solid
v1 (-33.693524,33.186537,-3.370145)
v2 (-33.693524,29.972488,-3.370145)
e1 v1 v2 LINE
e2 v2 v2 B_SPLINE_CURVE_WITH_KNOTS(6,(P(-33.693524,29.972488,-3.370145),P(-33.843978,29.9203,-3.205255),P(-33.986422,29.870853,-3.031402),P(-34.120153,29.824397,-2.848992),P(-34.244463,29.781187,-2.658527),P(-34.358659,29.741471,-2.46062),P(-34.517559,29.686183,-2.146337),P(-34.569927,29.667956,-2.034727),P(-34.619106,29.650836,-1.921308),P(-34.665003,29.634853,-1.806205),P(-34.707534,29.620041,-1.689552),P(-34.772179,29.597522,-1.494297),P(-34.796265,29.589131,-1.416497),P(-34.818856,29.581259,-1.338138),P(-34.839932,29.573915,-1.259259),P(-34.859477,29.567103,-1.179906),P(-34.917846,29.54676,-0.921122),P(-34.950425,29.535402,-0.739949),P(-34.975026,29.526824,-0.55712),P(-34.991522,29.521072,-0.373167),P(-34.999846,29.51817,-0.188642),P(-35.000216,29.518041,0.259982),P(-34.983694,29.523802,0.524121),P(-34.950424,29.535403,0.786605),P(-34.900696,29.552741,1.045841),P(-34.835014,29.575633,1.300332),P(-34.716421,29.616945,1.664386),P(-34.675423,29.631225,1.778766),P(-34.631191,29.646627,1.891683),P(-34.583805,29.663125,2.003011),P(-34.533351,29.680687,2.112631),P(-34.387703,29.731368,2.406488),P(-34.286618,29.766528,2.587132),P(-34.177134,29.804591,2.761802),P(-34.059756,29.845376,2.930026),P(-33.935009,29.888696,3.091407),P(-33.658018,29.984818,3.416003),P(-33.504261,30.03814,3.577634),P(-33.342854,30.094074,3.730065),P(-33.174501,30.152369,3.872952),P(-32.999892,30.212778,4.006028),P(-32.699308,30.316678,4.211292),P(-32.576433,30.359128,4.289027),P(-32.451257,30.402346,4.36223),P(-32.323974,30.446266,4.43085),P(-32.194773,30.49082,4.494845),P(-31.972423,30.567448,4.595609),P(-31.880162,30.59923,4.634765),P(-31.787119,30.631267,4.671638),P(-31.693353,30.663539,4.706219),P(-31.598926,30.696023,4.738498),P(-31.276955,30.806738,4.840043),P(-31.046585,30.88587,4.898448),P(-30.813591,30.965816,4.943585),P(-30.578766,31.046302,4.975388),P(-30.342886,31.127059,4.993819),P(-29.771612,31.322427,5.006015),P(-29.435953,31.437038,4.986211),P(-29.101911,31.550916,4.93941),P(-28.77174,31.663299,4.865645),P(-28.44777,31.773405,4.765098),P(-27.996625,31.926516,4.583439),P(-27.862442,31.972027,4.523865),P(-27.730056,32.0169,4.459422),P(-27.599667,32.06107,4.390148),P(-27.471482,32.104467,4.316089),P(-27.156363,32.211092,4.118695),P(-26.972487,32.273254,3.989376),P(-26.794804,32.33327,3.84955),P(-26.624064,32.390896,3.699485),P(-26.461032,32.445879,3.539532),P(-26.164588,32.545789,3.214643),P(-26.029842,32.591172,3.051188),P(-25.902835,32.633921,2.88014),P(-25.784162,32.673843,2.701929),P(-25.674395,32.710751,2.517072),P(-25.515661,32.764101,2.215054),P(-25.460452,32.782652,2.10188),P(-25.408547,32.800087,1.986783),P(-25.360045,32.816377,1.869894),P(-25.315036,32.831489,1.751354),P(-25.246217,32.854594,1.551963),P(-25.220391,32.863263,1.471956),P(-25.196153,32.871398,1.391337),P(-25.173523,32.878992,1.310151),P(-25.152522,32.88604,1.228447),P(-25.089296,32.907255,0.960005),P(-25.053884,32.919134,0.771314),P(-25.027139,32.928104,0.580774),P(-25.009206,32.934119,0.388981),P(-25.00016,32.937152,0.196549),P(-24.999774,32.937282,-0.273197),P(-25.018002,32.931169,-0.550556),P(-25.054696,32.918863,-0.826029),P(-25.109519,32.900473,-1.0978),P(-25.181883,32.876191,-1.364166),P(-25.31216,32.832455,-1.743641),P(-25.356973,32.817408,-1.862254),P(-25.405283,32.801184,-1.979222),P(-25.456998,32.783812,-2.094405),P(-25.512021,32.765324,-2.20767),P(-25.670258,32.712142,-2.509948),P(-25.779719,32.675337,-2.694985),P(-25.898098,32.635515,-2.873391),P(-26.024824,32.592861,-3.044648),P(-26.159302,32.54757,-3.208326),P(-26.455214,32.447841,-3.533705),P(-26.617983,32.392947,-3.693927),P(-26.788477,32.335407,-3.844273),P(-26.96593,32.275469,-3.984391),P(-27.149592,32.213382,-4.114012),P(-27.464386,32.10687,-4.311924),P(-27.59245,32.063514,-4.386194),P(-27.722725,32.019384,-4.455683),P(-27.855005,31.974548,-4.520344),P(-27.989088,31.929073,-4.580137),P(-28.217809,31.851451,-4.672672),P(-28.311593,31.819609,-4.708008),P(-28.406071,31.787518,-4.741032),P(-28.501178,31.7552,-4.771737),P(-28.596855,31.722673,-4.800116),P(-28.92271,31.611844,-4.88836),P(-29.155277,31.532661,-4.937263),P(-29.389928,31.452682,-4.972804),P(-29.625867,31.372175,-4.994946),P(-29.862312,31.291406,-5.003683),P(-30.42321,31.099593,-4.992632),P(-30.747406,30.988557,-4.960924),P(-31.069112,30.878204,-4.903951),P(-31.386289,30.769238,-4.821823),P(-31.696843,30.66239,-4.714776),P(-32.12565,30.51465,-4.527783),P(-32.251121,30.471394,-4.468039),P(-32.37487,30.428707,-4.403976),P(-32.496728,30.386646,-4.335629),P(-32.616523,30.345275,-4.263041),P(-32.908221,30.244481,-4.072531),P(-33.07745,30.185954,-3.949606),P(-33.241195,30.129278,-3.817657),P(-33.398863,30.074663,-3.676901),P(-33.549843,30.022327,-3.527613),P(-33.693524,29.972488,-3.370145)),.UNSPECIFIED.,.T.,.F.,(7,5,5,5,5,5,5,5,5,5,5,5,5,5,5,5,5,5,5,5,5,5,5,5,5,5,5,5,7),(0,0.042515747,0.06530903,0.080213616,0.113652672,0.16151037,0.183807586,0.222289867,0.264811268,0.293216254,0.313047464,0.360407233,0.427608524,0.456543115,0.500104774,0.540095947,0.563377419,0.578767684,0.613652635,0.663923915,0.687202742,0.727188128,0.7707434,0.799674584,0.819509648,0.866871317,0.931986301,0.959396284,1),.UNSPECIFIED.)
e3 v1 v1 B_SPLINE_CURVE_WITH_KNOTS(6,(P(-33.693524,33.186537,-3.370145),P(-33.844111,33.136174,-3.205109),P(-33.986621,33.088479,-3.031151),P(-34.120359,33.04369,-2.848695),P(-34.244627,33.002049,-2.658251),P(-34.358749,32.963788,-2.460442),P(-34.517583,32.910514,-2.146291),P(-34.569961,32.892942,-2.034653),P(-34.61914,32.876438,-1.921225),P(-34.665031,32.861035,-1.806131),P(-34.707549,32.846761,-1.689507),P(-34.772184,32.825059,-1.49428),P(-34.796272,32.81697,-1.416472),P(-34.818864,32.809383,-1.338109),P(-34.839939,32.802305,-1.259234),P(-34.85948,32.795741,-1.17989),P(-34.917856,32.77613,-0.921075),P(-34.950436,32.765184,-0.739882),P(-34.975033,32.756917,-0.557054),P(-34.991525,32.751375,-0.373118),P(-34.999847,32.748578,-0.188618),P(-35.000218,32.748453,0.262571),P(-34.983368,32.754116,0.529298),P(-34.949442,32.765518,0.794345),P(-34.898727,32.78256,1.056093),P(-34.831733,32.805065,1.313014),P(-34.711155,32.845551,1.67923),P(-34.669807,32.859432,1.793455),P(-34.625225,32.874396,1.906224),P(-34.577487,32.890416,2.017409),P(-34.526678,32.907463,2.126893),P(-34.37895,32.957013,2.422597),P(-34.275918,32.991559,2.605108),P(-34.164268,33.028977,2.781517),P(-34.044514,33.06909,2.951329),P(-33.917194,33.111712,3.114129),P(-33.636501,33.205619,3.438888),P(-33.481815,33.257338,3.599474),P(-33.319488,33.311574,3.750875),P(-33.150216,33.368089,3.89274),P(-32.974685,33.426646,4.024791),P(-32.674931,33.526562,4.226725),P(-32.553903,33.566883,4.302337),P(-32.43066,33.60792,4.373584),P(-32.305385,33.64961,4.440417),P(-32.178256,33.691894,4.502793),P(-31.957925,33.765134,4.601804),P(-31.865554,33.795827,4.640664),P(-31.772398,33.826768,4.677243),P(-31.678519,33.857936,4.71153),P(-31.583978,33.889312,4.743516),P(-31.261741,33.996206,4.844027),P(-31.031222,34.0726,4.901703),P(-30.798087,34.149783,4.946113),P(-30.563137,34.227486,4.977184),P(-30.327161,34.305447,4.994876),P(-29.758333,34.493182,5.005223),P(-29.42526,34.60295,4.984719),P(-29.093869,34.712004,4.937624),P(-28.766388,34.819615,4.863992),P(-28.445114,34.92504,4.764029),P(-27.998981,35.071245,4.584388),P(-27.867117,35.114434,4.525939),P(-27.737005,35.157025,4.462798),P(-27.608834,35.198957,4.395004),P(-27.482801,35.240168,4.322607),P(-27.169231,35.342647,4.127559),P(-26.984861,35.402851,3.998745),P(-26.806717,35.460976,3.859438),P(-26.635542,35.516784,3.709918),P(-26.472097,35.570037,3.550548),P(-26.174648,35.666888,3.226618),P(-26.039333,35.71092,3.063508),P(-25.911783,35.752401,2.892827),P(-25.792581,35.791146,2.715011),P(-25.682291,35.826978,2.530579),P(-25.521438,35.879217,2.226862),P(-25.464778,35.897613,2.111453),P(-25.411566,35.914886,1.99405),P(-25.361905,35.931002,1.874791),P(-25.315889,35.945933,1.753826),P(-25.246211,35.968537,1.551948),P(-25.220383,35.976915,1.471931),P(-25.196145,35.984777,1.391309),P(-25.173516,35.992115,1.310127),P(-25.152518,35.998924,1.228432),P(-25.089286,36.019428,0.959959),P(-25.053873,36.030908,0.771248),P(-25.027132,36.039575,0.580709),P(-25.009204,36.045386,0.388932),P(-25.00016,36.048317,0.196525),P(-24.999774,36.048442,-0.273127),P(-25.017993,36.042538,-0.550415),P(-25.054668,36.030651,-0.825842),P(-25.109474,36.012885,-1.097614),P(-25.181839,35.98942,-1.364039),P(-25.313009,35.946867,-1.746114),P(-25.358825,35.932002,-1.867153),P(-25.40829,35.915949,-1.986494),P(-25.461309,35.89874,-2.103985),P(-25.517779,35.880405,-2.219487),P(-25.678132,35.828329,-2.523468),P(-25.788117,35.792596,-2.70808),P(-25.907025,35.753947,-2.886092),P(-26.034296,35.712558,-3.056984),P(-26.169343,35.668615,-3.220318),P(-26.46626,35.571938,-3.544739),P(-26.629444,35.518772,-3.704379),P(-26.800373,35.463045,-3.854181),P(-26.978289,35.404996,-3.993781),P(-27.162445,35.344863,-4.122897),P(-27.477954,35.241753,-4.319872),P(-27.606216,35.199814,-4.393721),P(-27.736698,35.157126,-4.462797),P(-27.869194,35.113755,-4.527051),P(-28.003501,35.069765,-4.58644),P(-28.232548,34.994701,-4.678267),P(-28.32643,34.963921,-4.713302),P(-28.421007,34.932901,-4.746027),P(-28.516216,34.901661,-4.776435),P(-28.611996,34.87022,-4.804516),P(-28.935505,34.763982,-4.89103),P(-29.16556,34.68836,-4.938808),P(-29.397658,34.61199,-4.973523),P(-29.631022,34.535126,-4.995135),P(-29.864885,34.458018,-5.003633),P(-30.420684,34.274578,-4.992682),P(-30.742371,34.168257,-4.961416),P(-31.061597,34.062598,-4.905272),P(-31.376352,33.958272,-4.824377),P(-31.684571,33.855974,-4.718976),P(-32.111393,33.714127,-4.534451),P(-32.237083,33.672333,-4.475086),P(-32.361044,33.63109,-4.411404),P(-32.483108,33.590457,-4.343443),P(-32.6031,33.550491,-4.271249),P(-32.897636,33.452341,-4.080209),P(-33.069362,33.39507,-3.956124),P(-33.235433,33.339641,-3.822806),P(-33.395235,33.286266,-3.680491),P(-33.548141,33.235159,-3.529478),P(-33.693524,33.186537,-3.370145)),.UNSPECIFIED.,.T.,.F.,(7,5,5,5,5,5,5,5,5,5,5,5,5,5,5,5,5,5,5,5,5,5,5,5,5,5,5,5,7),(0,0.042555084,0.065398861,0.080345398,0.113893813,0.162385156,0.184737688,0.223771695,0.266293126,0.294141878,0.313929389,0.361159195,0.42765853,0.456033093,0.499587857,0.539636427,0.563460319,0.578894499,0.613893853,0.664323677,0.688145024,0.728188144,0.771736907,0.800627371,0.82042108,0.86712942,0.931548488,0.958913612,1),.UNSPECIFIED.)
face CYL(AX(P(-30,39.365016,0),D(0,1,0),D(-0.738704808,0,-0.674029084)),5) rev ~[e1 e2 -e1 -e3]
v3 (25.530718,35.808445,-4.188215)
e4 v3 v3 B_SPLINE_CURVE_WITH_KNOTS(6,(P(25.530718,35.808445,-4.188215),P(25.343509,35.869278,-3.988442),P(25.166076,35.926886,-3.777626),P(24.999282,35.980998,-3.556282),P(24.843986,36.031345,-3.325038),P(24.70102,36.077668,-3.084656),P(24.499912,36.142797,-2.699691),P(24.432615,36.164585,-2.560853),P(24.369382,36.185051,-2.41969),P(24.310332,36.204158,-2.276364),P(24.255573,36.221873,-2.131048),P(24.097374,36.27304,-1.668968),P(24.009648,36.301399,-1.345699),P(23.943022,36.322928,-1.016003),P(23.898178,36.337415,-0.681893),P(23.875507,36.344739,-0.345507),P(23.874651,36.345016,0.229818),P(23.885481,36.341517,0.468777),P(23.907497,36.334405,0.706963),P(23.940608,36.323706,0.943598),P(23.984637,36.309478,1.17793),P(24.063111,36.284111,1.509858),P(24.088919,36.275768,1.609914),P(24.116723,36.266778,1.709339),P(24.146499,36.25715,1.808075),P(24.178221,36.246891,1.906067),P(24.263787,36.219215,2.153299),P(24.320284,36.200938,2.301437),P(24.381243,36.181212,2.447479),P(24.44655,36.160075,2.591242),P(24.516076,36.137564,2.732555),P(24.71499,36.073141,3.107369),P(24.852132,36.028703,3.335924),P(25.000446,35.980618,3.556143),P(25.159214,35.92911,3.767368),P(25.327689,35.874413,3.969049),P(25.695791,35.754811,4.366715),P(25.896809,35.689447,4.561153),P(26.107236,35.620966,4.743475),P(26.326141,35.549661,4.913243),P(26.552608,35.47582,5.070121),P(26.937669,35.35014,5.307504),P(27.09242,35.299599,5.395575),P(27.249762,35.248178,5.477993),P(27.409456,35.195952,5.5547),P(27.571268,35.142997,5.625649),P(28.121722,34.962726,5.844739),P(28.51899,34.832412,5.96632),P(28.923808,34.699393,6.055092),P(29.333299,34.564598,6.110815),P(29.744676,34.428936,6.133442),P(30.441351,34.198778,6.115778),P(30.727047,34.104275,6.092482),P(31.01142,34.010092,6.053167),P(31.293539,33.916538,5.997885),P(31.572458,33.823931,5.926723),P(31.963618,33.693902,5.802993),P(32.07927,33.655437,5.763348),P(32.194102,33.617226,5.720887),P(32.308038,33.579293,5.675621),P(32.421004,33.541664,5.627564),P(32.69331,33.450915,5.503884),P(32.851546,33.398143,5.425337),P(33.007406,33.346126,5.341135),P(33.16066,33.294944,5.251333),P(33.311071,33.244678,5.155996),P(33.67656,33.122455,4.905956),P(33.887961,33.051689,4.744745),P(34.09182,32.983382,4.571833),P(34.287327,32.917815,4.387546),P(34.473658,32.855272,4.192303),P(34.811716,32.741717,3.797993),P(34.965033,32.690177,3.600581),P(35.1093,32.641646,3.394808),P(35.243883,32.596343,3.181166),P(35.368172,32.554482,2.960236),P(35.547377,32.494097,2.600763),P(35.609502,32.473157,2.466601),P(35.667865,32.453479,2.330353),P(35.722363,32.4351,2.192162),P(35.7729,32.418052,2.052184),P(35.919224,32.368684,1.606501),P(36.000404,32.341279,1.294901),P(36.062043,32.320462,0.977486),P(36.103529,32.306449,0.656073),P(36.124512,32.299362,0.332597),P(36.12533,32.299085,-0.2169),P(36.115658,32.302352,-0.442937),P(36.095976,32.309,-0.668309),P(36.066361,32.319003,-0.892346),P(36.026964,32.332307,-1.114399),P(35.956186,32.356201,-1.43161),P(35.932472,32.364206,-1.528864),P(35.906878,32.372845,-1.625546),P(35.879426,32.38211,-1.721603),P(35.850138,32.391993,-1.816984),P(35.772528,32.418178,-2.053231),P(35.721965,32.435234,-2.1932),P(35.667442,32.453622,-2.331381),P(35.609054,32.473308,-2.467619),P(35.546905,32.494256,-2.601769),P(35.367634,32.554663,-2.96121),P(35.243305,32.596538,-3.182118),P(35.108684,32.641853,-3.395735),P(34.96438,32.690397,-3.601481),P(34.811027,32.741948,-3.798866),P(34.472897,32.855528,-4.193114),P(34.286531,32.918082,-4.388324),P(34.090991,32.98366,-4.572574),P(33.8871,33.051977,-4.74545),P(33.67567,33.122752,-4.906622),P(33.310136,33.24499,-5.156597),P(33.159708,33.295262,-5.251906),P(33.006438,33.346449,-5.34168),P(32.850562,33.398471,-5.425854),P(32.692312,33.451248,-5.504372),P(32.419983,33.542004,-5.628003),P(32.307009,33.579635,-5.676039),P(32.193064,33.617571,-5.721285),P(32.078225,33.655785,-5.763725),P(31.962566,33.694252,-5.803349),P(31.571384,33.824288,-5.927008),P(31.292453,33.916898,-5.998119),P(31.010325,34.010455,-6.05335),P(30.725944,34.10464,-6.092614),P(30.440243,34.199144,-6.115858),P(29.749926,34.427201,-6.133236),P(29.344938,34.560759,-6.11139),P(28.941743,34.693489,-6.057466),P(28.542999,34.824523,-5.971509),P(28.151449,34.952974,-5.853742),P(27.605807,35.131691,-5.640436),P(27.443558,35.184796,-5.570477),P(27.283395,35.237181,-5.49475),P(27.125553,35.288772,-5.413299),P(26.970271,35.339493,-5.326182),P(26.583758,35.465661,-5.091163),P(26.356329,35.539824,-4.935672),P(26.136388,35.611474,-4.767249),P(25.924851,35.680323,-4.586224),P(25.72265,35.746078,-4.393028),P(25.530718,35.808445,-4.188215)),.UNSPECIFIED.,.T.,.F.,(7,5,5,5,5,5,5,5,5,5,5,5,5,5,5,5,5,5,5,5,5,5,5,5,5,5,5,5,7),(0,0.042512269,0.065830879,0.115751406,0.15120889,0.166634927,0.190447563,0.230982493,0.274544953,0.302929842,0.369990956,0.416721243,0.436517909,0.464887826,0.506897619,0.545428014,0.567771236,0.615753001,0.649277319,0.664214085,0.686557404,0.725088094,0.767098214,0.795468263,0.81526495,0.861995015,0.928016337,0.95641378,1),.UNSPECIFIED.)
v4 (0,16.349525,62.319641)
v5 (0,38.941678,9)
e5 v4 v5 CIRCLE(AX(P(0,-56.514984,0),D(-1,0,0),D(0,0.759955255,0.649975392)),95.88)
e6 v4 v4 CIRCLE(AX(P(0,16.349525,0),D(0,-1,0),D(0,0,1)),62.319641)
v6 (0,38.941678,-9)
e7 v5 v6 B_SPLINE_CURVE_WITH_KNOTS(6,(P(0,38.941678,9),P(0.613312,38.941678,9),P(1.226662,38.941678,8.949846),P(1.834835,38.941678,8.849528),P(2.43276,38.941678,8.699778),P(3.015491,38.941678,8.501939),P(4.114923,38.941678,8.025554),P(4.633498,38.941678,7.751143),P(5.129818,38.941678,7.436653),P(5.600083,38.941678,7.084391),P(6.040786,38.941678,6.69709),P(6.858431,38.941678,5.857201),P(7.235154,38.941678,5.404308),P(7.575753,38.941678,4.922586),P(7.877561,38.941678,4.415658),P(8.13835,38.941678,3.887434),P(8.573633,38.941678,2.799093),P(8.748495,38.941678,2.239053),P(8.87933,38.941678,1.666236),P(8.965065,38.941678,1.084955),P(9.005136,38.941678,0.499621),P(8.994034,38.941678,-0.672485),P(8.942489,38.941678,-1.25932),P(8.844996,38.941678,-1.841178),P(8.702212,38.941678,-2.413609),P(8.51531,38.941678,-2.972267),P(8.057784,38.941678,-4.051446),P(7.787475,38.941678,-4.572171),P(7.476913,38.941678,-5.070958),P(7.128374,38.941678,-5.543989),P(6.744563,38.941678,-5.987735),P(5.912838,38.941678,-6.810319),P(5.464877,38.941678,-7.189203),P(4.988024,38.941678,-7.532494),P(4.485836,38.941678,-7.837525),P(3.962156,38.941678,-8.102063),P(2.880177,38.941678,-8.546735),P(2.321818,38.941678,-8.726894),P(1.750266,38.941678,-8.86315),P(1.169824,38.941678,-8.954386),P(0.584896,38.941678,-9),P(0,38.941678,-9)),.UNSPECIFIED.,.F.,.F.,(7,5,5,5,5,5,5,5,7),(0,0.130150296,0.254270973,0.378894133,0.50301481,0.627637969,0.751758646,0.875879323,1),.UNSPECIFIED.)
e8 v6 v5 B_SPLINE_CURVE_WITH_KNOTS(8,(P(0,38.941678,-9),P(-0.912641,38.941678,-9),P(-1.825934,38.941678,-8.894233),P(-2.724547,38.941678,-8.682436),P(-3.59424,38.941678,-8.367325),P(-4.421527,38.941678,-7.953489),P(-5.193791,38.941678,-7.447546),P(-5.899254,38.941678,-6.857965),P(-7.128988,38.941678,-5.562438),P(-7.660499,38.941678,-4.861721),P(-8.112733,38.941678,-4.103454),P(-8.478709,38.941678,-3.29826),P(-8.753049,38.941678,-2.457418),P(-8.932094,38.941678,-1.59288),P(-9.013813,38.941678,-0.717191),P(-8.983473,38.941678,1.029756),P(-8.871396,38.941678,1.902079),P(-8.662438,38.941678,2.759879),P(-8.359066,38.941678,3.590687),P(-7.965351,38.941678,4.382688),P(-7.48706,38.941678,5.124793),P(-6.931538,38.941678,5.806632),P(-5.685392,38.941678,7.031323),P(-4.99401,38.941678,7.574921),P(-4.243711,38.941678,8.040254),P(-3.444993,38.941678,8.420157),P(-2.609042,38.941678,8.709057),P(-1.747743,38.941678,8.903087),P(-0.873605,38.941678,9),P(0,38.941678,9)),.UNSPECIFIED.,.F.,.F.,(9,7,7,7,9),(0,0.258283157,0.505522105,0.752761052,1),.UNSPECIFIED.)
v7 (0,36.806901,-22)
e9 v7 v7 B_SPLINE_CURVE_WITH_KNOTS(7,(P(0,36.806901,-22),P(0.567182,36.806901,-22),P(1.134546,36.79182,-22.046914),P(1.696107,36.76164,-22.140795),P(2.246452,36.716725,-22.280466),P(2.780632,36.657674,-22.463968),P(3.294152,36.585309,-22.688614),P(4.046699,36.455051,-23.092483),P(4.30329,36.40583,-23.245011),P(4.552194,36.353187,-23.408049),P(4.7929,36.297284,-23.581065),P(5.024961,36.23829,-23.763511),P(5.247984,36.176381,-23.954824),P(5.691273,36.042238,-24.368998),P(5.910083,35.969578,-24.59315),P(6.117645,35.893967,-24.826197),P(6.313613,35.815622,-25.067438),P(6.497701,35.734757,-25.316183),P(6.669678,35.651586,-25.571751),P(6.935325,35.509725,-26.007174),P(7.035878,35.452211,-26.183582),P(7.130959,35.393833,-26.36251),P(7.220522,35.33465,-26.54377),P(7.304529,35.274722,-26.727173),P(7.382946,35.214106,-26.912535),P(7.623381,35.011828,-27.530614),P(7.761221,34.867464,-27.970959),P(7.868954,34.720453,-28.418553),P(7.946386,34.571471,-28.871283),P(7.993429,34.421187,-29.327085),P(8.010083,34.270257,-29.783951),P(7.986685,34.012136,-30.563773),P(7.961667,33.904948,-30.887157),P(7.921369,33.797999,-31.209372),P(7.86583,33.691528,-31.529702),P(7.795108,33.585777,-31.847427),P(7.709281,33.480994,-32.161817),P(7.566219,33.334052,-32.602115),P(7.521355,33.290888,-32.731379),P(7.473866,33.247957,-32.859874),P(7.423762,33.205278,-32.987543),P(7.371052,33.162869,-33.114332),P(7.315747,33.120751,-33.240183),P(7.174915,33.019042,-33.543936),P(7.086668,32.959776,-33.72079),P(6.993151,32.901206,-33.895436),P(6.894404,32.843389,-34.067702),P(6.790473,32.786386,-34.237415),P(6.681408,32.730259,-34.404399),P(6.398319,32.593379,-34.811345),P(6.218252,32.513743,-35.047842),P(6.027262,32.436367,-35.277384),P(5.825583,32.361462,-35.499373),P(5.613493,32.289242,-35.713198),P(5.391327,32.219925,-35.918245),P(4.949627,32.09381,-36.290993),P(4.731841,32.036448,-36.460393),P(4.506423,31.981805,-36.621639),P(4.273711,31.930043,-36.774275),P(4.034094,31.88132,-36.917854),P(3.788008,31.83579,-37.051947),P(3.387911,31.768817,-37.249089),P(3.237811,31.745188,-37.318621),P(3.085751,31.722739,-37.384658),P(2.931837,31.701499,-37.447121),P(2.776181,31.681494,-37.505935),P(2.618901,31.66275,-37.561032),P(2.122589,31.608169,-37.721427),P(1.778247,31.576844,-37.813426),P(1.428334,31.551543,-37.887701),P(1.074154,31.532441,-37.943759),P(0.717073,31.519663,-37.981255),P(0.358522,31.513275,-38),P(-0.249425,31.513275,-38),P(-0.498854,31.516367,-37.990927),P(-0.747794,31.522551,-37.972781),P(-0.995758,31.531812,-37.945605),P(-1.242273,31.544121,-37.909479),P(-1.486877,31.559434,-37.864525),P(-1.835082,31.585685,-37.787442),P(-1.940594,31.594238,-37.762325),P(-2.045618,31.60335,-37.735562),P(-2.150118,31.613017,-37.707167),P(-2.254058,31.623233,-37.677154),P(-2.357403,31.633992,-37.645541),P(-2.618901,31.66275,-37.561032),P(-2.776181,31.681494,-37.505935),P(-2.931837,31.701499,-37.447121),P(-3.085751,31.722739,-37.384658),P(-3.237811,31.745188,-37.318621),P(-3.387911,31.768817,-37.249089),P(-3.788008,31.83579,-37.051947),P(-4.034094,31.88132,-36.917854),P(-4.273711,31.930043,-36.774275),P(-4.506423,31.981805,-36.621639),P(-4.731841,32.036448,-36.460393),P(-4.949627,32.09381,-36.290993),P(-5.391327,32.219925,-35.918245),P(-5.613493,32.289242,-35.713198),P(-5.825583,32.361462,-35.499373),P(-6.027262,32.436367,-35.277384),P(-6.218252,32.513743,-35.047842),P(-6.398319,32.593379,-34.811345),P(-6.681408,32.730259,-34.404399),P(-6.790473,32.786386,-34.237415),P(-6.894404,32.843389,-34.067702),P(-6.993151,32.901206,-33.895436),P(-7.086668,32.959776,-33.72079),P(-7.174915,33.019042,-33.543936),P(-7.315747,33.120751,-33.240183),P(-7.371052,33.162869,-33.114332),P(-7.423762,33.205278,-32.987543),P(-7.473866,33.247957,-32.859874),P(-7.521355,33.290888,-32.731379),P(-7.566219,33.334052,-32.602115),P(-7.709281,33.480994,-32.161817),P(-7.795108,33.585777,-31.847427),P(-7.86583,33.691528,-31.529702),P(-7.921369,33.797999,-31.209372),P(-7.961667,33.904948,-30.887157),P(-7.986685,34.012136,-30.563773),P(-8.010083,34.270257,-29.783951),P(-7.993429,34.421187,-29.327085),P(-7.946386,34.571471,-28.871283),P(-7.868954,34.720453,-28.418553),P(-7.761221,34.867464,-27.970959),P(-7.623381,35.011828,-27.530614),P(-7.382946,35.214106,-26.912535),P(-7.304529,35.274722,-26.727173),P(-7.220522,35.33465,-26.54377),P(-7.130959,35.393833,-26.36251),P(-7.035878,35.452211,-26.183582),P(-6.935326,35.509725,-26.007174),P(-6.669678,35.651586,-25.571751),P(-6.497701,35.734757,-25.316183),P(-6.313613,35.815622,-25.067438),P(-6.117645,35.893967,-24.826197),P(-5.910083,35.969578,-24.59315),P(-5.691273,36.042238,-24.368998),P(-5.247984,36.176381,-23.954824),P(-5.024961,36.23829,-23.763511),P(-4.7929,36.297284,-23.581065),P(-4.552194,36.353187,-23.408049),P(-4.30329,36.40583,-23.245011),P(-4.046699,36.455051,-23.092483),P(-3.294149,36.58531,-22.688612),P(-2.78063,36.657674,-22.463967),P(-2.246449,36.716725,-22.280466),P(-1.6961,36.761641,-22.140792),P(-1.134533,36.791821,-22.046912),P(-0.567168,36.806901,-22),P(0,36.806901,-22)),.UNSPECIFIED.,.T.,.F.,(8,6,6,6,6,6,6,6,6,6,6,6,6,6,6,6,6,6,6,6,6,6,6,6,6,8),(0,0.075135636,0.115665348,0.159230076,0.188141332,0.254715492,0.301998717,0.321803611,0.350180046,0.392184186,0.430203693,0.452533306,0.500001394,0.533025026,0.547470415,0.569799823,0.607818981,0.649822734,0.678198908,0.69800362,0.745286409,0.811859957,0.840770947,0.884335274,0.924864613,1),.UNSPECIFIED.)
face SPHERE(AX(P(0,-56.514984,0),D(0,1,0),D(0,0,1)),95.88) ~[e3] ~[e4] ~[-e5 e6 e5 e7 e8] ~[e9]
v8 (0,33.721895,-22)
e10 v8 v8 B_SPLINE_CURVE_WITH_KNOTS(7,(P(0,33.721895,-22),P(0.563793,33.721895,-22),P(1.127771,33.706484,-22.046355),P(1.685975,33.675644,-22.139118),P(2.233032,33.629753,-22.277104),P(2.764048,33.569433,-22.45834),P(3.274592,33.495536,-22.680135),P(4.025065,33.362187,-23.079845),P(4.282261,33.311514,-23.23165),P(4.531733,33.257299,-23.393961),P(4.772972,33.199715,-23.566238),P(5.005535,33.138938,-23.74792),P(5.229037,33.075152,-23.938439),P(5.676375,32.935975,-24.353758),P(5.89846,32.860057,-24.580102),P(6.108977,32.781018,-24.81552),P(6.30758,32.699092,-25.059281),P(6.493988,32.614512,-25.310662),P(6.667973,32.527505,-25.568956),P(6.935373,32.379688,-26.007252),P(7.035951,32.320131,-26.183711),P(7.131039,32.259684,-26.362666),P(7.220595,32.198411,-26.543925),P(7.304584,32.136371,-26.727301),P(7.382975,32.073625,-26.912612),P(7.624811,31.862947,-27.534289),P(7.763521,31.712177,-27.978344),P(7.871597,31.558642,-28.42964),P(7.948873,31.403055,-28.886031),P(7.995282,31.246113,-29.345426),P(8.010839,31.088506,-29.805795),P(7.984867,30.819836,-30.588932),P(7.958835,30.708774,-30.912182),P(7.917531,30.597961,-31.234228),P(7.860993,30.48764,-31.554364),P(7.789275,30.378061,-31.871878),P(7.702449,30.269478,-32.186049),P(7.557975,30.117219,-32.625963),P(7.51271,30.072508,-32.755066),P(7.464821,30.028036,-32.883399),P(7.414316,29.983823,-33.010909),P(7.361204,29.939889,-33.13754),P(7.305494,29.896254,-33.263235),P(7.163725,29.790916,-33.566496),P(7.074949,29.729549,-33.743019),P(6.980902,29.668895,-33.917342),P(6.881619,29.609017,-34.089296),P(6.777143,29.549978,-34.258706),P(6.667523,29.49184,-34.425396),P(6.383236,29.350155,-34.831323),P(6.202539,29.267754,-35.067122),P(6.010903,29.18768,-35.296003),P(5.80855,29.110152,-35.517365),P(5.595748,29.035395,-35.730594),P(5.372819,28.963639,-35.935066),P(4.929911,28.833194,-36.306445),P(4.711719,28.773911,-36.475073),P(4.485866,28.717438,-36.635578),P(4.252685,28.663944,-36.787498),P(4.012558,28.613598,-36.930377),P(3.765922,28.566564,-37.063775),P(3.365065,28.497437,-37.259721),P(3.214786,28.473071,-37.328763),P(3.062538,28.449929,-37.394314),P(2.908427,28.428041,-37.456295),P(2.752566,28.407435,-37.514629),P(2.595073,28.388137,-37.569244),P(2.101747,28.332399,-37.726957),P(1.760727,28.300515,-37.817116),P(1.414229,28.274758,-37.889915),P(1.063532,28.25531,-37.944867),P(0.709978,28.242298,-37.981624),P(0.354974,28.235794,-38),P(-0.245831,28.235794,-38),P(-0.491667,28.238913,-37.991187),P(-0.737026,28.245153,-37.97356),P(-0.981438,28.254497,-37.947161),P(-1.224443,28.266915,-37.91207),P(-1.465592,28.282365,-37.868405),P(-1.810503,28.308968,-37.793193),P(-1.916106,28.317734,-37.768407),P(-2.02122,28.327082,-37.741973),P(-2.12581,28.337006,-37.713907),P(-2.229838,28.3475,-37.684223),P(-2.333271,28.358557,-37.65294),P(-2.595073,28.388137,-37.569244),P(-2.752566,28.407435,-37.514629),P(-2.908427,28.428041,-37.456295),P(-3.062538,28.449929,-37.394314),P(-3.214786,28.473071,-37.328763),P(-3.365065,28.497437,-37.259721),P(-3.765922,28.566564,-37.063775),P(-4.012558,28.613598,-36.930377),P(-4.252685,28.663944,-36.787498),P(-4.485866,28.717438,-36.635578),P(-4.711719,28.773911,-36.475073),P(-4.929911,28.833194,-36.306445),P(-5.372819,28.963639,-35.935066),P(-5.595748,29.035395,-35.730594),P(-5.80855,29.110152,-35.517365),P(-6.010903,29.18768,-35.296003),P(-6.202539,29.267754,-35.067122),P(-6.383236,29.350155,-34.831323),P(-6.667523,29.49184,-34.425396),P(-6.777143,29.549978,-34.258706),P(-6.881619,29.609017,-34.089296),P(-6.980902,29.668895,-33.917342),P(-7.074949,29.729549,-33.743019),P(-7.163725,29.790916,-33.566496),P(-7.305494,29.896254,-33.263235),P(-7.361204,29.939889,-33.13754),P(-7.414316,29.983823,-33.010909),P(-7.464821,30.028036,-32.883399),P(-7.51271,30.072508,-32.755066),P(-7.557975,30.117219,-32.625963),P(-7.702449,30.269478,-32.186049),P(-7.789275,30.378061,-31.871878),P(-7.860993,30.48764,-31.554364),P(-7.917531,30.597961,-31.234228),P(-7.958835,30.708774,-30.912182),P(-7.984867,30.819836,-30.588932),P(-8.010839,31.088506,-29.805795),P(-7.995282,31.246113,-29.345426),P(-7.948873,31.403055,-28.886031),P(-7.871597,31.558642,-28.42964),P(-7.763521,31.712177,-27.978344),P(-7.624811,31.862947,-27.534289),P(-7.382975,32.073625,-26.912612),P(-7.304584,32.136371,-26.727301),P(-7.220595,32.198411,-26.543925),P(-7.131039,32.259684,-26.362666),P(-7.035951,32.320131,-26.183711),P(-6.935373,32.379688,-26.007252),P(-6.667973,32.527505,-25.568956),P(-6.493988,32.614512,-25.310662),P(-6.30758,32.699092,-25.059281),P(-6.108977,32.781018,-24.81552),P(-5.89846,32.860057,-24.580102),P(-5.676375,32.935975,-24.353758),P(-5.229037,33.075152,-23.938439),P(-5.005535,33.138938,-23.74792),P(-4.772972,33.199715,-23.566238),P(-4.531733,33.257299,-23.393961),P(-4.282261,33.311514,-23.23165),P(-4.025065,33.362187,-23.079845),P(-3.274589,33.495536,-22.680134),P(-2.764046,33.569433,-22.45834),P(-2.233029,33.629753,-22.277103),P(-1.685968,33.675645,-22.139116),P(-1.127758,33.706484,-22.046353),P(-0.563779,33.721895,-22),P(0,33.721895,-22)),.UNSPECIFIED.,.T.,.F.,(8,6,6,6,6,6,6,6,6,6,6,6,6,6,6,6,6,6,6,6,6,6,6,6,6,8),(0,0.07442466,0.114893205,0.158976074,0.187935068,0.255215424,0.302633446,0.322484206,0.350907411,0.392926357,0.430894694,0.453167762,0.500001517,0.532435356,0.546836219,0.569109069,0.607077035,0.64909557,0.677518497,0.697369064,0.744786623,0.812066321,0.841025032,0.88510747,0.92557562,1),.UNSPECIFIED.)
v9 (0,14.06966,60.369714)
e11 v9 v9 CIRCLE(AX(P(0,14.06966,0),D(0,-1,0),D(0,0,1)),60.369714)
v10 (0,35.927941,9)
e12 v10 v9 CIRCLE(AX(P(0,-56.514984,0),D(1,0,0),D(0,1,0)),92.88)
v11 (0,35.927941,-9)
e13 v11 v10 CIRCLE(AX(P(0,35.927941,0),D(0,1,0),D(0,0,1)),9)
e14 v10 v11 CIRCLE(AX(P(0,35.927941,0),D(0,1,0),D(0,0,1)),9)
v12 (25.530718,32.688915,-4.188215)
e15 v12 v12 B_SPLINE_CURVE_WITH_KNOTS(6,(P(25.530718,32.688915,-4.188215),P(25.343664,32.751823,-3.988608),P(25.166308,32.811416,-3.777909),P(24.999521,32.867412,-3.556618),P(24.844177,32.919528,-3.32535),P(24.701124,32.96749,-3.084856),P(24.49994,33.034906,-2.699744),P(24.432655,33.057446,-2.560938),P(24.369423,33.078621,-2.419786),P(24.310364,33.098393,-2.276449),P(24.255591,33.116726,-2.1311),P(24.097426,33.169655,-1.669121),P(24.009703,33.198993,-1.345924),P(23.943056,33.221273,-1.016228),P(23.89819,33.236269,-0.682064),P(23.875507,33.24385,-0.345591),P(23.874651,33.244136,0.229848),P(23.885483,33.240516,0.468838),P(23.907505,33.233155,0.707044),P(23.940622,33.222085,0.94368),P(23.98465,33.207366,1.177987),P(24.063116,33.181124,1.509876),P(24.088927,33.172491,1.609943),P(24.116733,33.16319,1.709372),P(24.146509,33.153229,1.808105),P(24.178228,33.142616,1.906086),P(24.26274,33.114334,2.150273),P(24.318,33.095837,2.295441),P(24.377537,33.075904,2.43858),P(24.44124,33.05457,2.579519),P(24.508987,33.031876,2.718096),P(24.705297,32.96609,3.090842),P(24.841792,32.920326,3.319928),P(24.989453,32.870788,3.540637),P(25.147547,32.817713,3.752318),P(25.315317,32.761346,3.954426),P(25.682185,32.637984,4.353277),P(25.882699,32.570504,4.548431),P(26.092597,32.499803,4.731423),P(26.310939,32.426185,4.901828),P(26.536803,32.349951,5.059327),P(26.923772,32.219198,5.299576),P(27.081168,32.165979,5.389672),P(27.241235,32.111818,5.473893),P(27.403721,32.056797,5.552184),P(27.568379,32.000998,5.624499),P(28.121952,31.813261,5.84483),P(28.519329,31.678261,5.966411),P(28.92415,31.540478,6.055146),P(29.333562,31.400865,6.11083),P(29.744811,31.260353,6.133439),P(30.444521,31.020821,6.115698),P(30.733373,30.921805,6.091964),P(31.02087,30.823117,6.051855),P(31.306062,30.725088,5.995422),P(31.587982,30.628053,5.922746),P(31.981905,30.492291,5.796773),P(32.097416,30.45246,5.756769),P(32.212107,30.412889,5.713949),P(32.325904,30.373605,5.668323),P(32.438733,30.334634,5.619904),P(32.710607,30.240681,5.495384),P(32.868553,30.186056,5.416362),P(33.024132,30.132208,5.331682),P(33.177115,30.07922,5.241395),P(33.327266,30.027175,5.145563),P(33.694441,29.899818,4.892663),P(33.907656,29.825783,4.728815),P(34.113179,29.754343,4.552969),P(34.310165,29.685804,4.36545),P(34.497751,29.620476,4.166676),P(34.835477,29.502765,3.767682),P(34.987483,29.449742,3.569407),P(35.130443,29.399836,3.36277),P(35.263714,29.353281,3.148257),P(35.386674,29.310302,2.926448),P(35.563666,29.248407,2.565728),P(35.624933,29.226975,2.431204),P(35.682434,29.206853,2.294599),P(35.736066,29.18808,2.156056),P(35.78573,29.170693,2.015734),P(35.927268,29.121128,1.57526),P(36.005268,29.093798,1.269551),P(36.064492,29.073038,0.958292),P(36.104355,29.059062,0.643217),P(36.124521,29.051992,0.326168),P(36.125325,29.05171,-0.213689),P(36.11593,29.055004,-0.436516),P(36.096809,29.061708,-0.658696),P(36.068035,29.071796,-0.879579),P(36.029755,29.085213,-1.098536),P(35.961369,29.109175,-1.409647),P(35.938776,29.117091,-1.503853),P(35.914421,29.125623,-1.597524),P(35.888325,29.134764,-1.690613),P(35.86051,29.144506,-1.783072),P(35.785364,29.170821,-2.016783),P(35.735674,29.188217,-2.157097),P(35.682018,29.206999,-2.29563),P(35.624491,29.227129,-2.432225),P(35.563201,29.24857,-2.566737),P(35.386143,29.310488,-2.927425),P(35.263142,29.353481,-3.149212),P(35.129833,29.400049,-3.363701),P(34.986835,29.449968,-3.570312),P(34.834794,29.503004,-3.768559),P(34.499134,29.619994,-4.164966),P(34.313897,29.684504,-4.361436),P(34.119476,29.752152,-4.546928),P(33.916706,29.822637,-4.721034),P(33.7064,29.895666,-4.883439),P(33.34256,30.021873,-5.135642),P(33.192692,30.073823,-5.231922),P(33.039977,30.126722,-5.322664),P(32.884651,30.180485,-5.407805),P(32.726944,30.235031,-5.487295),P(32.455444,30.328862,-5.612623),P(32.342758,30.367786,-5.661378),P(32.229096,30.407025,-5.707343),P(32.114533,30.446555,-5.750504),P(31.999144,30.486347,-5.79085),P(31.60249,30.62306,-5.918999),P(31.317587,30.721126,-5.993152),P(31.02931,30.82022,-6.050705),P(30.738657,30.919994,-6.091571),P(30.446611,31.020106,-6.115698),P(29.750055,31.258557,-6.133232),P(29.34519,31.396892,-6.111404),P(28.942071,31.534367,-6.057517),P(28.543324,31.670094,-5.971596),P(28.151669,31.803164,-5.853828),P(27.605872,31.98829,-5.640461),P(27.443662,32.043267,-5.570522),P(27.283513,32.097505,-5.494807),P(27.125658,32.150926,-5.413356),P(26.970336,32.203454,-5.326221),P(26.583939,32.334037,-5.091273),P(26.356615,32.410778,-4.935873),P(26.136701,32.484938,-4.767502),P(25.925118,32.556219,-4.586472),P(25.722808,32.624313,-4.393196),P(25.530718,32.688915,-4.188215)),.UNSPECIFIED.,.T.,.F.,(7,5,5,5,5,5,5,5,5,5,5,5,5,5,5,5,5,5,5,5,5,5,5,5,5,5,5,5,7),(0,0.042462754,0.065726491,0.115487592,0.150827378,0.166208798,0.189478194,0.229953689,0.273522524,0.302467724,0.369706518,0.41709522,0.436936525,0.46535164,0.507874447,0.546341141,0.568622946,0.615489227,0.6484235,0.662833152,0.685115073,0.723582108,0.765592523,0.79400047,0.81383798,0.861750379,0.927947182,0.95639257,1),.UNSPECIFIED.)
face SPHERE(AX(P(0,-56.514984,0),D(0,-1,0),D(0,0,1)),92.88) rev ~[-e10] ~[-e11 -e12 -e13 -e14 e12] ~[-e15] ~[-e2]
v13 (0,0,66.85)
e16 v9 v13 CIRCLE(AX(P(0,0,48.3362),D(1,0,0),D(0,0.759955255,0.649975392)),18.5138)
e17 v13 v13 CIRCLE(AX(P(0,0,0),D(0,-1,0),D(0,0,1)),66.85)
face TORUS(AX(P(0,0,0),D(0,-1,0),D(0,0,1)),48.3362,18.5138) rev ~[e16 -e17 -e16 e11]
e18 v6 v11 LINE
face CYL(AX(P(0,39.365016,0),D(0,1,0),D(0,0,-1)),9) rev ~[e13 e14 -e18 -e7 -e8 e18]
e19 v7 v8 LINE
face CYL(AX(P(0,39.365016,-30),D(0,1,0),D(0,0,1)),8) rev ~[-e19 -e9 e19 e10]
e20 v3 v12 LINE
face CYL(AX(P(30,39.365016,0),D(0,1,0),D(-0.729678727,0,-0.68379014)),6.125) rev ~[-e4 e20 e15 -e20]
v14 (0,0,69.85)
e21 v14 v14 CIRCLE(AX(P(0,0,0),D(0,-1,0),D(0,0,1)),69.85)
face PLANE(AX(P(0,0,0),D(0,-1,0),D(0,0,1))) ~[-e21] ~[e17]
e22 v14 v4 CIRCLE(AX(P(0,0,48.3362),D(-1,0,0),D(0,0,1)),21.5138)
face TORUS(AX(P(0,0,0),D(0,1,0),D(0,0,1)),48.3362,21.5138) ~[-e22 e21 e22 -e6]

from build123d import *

# Parameters (mm, degrees)
SKETCH_2_R          = 9
SKETCH_2_R_2        = 5.000000000000001
SKETCH_2_R_3        = 7.999999999999998
SKETCH_2_R_4        = 6.124999999999995
CUT_EXTRUDE_1_DEPTH = 107.33743200790742


with BuildPart() as part:
    # Эскиз1 → Повернуть1 (revolve)
    with BuildSketch(Plane.XY, mode=Mode.PRIVATE) as revolve_1_sk:
        with BuildLine():
            Line((0, 39.36501550915903), (0, 36.36501550915897))
            ThreePointArc((0, 36.36501550915897), (32.17757492953397, 30.613071103520923), (60.369714413268355, 14.069659601627245))
            ThreePointArc((60.369714413268355, 14.069659601627245), (65.15206854111862, 7.74515045998565), (66.84999999999997, 1.388e-14))
            Line((66.84999999999997, 1.388e-14), (69.85000000000002, 1.388e-14))
            ThreePointArc((69.85000000000002, 1.388e-14), (67.87693354038171, 9.000184617206603), (62.31964058940756, 16.349525366887885))
            ThreePointArc((62.31964058940756, 16.349525366887885), (33.216902285139106, 33.427284785509414), (0, 39.36501550915903))
        make_face()
    revolve(revolve_1_sk.sketch.rotate(Axis((0, 69.55204547466519, 0), (0, -1, 0)), 90), axis=Axis((0, 69.55204547466519, 0), (0, -1, 0)))

    # Эскиз2 → Вырез-Вытянуть1 (cut, through all)
    with BuildSketch(Plane(origin=(0, 39.36501550915903, 0), x_dir=(1, 0, 0), z_dir=(0, 1, 0))):
        with Locations(Location((0, 0, 0), (0, 0, 90))):
            Circle(SKETCH_2_R)
        with Locations(Location((-30, 0, 0), (0, 0, 137.62120169))):
            Circle(SKETCH_2_R_2)
        with Locations(Location((0, 30, 0), (0, 0, 269.99999999))):
            Circle(SKETCH_2_R_3)
        with Locations(Location((30, 0, 0), (0, 0, 136.859467324))):
            Circle(SKETCH_2_R_4)
    extrude(amount=-CUT_EXTRUDE_1_DEPTH, mode=Mode.SUBTRACT)


solid = part.part
